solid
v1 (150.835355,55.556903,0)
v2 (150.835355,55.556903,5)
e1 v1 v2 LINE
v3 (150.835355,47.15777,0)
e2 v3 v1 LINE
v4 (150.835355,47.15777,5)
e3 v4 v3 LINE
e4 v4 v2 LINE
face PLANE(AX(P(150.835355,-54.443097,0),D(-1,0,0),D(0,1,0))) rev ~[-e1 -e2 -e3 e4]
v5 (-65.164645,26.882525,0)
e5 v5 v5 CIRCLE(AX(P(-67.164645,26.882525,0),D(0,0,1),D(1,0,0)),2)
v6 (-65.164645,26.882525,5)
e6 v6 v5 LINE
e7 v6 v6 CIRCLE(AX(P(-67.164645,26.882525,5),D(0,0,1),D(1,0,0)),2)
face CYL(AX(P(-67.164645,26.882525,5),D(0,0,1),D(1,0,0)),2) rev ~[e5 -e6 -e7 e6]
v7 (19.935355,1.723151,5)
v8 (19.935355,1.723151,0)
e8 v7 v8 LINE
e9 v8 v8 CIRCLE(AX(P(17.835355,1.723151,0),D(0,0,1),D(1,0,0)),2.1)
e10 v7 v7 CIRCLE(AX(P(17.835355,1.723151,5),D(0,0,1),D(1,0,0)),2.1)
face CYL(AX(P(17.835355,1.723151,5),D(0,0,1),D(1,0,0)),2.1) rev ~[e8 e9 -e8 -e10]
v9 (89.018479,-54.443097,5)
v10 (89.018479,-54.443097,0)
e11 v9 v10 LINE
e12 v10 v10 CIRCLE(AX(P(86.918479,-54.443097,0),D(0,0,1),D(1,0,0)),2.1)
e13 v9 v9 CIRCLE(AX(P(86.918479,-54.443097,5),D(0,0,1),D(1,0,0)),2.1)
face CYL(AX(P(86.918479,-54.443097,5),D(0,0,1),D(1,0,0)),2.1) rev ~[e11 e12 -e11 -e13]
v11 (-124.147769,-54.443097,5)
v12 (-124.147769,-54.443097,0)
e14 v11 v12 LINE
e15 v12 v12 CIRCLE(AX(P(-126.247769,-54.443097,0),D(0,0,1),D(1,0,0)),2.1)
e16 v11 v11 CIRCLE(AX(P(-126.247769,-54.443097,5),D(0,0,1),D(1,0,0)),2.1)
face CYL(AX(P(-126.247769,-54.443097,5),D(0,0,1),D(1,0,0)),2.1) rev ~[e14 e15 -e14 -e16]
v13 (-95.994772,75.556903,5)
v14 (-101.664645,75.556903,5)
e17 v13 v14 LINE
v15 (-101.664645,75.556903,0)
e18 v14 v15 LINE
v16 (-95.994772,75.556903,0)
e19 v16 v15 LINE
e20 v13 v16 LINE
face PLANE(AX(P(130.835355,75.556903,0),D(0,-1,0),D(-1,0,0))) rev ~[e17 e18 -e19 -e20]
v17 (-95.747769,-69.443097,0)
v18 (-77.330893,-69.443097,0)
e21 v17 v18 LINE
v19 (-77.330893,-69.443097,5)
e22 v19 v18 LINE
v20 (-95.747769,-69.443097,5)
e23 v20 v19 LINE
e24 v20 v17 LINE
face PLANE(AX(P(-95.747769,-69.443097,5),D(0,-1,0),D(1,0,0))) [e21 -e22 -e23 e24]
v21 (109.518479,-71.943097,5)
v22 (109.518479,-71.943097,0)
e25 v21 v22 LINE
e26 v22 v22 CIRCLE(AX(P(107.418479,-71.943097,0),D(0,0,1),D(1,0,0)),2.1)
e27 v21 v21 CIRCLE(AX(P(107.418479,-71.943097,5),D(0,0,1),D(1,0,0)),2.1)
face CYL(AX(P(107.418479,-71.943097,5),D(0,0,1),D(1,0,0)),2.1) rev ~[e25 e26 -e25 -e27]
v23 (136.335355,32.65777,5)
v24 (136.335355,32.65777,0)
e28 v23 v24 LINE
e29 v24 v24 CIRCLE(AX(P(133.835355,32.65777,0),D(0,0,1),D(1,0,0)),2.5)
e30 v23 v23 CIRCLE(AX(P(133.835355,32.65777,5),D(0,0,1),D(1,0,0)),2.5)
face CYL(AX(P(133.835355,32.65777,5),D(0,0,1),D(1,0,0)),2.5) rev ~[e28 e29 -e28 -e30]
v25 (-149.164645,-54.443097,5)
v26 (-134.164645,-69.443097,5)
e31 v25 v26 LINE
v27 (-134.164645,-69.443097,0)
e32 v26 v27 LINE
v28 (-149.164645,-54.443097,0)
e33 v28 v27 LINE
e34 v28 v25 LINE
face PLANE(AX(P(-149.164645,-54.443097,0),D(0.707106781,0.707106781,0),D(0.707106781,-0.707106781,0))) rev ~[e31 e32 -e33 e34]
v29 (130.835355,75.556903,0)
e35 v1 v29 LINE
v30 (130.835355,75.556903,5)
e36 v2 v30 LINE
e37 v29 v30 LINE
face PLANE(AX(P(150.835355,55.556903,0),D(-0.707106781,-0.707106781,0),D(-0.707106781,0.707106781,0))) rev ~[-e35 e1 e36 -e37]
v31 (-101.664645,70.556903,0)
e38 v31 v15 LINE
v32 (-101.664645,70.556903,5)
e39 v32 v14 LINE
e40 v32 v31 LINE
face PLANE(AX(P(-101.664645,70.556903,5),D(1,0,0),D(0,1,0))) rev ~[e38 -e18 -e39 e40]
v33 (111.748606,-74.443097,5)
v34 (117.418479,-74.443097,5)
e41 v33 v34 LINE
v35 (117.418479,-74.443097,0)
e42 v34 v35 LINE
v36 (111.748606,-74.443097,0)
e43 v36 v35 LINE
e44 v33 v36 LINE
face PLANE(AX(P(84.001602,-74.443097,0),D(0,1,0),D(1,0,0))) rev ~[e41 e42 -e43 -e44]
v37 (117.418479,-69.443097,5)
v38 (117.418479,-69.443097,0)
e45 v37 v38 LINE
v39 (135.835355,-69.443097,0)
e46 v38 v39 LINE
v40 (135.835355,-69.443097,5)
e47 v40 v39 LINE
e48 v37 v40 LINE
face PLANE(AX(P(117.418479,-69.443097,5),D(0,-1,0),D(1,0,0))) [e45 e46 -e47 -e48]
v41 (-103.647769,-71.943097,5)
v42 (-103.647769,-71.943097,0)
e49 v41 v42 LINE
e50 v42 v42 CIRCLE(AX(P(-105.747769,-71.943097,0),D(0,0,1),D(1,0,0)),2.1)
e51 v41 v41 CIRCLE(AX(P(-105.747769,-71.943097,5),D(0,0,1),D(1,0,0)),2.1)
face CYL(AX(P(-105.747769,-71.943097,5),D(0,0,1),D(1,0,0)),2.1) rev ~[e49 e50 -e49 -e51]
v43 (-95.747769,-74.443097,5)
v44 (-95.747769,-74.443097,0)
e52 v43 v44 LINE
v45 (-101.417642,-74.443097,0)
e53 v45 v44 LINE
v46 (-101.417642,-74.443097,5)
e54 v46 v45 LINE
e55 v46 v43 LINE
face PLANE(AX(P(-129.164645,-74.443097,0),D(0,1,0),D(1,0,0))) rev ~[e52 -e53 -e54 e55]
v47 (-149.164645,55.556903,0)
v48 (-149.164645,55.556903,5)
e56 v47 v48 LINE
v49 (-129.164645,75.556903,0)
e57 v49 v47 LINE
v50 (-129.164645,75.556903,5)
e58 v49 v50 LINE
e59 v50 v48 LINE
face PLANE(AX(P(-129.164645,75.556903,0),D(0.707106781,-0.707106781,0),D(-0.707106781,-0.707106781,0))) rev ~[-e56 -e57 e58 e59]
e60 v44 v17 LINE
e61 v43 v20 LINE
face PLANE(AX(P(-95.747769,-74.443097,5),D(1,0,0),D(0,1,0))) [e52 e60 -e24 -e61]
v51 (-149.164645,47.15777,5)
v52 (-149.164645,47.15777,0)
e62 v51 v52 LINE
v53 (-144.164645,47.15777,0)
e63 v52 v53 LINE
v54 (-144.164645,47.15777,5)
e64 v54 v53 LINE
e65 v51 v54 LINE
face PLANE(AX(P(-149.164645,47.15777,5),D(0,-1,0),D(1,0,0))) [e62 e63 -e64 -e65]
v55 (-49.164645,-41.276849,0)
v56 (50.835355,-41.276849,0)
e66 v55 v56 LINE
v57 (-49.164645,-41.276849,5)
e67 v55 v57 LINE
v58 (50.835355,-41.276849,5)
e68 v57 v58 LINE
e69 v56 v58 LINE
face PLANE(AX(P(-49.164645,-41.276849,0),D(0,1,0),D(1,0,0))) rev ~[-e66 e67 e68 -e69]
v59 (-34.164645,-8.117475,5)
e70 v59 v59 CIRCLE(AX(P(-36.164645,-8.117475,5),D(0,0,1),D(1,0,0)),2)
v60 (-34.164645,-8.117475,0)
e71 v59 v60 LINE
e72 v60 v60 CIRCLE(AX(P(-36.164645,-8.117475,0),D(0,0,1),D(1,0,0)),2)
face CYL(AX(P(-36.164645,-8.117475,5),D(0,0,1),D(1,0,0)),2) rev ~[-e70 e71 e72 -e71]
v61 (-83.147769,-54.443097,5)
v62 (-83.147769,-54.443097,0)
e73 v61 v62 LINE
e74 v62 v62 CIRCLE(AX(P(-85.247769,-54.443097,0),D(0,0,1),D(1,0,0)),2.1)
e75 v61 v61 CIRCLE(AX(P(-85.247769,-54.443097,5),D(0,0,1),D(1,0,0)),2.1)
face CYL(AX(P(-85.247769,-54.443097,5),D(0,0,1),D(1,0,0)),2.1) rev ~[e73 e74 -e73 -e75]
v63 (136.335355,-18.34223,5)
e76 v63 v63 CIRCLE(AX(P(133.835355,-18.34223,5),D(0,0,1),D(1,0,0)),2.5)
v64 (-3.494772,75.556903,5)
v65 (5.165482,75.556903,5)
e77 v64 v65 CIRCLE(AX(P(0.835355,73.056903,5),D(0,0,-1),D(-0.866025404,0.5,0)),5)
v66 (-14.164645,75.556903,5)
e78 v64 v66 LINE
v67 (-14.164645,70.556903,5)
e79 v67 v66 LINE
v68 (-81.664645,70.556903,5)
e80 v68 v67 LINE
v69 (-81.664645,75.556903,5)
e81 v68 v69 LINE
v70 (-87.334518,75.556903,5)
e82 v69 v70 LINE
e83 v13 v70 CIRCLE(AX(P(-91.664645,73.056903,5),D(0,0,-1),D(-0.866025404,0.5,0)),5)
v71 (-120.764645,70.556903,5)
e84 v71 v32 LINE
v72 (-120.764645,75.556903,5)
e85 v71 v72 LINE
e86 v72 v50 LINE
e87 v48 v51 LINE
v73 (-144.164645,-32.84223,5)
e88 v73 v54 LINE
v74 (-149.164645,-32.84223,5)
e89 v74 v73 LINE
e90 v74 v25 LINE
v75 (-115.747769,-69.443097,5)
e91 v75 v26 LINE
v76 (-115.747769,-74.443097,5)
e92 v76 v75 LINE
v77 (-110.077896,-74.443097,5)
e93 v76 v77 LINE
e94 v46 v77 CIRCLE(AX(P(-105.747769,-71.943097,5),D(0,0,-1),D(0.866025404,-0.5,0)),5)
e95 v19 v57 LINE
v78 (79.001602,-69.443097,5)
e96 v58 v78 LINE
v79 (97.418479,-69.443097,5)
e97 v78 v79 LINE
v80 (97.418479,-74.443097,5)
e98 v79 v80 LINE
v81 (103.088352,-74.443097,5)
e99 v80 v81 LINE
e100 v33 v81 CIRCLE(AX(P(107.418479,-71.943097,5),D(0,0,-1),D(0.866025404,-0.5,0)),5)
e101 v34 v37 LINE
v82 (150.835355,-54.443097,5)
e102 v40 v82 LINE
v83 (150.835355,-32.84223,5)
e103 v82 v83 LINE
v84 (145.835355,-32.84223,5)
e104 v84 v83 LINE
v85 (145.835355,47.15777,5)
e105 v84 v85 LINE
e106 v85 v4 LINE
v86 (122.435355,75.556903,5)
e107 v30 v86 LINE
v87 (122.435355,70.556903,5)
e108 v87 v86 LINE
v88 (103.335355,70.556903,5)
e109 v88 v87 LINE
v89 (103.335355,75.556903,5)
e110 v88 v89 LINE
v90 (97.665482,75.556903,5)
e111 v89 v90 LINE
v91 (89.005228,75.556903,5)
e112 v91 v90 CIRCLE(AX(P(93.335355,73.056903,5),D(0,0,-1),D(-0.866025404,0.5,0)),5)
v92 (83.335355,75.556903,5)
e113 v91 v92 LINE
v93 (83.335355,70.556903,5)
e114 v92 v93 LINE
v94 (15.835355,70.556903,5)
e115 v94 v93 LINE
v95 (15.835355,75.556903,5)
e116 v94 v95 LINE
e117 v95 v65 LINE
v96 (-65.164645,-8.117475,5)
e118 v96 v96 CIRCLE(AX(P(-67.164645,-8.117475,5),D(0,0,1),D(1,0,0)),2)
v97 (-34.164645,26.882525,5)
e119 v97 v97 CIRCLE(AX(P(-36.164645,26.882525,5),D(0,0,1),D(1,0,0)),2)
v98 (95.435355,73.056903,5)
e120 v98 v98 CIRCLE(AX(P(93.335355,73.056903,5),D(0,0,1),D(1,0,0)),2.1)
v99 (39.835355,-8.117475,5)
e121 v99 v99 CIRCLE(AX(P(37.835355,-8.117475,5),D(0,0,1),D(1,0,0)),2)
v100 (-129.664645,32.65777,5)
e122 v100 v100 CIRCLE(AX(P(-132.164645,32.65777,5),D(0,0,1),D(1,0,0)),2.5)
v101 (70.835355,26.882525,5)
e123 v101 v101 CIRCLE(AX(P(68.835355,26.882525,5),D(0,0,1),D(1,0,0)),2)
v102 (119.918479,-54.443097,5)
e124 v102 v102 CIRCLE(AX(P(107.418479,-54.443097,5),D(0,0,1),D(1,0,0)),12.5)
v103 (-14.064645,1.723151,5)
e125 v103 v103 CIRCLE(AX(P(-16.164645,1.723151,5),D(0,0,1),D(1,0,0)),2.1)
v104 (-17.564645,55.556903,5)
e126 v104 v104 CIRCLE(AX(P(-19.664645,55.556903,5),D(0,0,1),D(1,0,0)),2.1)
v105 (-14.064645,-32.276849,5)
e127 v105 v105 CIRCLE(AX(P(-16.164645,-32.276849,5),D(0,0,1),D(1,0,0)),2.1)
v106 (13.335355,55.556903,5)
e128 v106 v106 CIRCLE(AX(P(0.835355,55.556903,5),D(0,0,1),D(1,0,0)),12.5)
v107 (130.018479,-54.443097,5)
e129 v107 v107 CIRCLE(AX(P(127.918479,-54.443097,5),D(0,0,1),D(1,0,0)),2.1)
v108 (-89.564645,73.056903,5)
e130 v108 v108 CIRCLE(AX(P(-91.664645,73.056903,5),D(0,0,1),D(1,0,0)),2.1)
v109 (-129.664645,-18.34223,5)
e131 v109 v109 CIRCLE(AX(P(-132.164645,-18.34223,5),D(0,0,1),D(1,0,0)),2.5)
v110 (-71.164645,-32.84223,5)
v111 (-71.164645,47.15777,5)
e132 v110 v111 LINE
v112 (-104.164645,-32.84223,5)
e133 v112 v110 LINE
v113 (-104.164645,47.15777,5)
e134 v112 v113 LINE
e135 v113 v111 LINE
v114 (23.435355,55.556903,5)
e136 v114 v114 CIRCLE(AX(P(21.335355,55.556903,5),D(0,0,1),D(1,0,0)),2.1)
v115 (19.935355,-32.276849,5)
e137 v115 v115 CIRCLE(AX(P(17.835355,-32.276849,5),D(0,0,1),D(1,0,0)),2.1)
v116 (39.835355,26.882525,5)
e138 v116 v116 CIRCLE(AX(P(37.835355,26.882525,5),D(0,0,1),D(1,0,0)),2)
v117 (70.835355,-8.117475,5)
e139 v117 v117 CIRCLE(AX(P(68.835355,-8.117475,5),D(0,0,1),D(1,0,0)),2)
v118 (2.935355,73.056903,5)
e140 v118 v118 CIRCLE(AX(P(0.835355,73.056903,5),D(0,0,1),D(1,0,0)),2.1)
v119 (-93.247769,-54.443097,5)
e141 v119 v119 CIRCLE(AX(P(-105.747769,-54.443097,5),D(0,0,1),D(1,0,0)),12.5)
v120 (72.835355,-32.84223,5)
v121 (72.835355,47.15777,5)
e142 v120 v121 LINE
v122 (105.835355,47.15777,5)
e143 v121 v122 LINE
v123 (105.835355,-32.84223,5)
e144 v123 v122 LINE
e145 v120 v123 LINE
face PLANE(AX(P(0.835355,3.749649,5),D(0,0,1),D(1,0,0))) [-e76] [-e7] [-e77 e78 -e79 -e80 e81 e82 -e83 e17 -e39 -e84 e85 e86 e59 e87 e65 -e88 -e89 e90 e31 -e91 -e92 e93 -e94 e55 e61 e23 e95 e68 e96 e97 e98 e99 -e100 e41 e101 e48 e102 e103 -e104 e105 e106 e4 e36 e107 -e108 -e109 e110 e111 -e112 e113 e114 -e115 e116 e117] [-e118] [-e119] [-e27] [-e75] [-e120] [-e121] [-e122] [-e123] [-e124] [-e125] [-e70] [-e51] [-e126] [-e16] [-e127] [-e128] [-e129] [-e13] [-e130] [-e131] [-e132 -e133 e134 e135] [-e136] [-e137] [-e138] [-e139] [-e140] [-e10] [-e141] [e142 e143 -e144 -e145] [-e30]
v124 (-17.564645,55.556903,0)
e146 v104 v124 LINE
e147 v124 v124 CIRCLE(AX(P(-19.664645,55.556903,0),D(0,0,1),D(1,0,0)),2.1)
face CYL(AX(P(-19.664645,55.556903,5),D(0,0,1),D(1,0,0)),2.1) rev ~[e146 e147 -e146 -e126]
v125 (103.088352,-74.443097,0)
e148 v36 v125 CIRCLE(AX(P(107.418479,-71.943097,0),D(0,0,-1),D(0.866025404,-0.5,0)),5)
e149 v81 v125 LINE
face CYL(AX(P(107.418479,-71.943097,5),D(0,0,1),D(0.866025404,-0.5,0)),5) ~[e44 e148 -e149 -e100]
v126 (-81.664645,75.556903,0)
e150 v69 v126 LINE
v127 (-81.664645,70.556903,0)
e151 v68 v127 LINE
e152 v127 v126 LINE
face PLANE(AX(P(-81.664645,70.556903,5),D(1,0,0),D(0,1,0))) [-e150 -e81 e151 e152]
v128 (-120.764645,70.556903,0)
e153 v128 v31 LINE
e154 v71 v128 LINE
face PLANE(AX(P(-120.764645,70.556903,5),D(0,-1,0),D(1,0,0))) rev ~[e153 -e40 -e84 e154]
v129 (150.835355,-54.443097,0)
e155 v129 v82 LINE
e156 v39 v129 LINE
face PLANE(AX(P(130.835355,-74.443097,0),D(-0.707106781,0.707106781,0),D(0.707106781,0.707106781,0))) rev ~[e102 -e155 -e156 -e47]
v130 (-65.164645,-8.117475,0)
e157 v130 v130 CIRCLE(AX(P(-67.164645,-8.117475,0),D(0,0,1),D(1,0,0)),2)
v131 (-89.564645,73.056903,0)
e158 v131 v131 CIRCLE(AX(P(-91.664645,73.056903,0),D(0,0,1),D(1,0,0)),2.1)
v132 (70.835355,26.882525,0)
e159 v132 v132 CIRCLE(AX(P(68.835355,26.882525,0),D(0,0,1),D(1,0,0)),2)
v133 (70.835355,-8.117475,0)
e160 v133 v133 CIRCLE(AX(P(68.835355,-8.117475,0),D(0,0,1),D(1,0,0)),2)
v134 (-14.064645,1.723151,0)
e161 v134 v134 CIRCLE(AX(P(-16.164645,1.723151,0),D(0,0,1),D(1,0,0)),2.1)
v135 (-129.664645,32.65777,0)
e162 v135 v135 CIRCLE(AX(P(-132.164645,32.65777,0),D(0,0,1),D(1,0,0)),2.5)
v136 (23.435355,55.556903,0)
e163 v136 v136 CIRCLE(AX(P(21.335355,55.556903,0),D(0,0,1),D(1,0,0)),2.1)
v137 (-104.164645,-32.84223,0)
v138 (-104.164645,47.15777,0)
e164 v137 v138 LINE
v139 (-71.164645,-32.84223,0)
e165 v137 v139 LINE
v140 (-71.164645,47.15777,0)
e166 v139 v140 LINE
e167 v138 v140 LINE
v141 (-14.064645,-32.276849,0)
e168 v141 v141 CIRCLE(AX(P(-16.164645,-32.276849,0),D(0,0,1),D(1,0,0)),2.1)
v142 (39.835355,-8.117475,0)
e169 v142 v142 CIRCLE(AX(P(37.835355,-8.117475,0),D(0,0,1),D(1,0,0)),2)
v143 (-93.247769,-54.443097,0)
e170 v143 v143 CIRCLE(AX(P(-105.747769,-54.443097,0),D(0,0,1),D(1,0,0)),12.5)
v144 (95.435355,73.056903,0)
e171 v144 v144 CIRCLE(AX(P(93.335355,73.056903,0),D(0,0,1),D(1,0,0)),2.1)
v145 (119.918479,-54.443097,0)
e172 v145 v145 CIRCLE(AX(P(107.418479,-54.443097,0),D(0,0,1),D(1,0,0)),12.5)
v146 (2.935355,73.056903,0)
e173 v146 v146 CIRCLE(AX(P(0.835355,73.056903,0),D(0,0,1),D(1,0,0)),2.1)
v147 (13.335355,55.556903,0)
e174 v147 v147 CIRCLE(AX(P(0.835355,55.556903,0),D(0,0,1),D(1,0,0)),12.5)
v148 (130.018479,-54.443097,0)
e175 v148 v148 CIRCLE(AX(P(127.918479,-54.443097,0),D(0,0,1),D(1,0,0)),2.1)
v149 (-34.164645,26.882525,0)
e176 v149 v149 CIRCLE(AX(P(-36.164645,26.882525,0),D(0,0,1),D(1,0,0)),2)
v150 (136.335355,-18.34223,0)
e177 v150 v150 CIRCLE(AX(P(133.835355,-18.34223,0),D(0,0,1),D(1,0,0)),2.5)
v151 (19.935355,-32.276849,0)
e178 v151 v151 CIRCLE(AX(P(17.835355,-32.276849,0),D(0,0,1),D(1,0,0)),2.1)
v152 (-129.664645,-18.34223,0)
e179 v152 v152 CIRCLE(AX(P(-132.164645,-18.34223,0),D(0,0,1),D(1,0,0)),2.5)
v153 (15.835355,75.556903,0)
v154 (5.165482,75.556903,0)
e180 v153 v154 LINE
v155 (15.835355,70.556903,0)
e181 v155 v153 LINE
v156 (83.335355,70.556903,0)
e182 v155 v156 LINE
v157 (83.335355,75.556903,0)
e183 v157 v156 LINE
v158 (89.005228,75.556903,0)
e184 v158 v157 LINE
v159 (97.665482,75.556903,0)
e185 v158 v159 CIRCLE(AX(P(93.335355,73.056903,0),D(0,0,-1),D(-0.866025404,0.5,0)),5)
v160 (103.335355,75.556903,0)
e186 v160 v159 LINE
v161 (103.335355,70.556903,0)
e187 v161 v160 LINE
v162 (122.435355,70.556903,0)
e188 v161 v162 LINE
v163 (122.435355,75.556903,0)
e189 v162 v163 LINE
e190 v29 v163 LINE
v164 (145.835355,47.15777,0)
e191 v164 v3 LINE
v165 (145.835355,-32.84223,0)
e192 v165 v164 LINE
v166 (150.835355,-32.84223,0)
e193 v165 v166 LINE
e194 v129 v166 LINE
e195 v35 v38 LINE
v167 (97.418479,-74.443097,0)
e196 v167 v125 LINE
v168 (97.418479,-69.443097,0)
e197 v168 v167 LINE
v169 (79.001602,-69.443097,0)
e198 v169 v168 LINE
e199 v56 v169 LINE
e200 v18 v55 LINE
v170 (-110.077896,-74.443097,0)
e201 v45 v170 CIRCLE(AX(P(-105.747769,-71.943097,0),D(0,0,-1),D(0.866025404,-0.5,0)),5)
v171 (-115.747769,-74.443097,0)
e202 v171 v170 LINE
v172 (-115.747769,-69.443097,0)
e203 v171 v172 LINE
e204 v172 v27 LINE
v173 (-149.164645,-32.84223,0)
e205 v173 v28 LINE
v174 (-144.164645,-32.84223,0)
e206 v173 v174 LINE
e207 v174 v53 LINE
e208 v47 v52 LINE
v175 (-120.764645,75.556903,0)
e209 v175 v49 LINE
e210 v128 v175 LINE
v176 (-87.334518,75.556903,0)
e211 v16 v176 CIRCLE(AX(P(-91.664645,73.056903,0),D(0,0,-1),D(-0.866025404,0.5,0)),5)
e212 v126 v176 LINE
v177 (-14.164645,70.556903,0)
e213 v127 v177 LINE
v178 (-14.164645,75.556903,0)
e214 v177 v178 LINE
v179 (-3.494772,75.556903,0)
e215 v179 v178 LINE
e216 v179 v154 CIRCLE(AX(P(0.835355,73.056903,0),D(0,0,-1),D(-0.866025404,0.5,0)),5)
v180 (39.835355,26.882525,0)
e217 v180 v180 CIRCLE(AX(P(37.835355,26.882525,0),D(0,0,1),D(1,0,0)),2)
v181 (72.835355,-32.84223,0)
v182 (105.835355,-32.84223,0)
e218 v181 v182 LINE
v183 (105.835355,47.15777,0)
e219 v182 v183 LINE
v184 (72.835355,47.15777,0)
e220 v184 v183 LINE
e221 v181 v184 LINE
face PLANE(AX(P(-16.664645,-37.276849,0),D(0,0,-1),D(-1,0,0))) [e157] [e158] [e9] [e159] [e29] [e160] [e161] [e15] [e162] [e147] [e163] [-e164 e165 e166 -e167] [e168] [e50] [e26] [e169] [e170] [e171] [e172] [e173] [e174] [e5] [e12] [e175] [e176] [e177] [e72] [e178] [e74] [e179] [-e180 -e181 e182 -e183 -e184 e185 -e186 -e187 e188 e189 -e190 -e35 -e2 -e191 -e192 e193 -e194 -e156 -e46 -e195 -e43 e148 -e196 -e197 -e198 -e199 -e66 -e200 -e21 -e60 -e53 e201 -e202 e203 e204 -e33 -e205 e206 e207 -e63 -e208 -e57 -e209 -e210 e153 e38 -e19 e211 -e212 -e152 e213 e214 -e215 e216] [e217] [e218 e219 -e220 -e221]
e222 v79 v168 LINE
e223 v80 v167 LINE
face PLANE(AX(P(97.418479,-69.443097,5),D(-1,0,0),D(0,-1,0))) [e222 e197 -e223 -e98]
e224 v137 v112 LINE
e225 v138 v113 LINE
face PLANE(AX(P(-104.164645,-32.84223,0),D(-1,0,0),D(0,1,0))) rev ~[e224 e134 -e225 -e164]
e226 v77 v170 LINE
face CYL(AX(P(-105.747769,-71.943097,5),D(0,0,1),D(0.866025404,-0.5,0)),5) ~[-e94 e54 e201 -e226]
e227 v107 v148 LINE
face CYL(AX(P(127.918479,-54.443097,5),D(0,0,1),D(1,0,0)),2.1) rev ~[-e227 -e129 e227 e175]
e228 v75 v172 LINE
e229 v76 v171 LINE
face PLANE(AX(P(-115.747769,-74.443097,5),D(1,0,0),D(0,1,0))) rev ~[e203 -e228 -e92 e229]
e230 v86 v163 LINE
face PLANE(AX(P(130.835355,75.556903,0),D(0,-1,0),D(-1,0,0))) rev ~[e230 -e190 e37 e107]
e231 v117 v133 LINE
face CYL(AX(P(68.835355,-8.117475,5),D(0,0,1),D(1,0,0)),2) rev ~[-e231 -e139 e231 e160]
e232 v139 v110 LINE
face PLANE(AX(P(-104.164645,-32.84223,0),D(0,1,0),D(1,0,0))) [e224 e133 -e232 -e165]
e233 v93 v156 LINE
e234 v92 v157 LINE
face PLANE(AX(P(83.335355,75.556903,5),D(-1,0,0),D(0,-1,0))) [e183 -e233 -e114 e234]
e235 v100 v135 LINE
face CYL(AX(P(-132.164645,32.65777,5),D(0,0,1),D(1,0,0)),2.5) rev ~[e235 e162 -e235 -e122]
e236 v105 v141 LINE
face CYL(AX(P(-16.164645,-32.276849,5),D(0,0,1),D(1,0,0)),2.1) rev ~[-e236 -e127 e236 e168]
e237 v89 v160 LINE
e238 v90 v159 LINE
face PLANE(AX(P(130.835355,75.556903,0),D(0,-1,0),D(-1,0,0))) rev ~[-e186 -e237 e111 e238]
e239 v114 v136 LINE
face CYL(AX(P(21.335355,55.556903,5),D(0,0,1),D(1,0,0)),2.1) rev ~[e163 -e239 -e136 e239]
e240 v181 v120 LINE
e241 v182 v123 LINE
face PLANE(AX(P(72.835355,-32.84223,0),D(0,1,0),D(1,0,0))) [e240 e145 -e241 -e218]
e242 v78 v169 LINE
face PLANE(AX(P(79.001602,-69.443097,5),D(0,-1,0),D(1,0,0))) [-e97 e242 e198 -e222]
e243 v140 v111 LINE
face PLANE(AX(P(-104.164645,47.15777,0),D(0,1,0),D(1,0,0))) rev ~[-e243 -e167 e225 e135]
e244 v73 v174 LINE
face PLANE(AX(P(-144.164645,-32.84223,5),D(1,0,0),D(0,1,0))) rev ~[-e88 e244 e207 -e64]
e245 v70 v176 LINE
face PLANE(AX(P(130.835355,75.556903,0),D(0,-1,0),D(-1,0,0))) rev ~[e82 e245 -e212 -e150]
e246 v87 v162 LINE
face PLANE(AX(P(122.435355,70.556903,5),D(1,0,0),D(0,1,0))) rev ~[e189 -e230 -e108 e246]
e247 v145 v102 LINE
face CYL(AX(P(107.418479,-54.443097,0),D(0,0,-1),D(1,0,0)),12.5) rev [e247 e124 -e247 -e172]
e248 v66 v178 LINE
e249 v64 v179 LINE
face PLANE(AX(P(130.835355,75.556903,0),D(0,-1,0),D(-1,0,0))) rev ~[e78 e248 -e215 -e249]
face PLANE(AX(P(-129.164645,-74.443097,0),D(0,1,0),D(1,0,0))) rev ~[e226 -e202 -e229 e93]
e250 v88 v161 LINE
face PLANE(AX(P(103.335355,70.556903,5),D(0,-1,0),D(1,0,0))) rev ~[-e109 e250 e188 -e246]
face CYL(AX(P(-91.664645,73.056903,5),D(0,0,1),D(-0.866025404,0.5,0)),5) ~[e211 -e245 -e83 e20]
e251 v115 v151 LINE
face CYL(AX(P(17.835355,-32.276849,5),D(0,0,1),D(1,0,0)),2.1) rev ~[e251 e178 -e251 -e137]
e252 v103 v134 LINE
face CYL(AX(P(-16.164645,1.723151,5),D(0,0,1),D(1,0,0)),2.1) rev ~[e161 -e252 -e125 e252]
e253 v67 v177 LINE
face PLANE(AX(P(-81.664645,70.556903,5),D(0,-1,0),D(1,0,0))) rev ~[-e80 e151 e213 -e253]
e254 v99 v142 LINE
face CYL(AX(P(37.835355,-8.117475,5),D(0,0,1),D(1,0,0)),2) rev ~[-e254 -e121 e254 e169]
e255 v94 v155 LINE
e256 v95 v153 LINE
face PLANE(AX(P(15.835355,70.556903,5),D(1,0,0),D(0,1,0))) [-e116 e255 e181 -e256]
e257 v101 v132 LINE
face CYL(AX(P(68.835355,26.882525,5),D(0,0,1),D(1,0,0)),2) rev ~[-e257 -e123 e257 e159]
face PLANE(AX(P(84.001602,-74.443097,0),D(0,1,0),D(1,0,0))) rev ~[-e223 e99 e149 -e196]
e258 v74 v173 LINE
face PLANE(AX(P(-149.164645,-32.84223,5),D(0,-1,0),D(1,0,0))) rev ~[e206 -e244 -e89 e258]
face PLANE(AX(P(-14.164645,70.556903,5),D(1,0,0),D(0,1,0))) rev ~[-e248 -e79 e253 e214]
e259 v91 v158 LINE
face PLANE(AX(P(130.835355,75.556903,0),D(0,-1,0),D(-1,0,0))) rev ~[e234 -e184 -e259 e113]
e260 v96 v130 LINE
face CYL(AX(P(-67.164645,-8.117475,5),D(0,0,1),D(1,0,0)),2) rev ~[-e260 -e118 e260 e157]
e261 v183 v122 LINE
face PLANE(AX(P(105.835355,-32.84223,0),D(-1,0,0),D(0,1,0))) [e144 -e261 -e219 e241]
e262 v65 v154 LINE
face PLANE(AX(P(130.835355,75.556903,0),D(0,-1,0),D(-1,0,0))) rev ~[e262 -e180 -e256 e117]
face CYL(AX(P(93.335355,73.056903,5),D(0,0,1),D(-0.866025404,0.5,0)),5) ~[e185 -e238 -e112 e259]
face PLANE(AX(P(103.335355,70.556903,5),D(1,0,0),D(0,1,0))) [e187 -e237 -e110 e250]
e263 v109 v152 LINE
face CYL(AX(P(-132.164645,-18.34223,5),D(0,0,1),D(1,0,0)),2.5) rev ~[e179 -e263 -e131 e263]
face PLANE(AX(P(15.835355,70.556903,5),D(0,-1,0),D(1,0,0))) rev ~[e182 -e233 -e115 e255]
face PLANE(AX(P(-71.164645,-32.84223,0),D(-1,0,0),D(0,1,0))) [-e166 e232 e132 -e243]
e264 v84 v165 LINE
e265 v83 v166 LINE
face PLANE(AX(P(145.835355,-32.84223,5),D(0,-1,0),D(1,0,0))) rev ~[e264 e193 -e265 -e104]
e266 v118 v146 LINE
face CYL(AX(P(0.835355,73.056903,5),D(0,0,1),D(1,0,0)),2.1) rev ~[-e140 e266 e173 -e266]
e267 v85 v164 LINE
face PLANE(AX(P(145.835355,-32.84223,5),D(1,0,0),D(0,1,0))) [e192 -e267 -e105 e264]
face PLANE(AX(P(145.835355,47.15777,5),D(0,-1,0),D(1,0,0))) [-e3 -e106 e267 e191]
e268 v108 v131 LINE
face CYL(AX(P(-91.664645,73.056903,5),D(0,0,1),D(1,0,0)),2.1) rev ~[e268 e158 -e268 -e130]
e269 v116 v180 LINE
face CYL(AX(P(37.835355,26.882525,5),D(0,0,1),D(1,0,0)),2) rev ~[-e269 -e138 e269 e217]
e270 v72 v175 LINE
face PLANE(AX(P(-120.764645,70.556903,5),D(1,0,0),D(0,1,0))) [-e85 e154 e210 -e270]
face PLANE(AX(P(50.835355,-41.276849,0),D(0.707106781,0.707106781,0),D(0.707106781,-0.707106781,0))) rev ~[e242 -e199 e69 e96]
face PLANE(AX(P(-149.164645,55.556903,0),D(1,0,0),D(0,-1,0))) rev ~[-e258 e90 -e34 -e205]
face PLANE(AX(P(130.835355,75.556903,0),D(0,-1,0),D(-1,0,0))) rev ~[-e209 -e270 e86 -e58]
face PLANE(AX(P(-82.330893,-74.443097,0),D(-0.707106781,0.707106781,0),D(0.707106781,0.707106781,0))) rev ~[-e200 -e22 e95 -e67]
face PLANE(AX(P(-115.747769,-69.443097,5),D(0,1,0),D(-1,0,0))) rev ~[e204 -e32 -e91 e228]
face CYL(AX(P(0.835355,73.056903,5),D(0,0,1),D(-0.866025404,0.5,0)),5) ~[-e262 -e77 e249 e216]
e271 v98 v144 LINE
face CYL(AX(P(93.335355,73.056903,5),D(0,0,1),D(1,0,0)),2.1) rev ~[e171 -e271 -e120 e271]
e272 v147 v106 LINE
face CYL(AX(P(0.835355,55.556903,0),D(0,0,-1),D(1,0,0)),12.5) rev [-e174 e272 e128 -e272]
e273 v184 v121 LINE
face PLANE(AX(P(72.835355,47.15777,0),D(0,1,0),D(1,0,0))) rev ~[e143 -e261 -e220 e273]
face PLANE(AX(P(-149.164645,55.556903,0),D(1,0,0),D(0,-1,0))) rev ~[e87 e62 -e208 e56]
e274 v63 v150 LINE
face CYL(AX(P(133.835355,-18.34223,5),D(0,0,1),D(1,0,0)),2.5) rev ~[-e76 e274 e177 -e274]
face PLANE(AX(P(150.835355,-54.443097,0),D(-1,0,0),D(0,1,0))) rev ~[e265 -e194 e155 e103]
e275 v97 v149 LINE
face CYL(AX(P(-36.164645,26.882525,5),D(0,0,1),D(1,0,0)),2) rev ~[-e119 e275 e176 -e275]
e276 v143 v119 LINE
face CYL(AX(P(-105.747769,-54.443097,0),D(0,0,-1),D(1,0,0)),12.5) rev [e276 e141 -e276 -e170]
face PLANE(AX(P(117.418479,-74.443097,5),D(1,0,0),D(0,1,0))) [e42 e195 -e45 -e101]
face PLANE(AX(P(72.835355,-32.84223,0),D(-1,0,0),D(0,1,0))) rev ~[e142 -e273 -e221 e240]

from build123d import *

# Parameters (mm, degrees)
SKETCH1_R           = 12.5
SKETCH1_W           = 33
SKETCH1_H           = 80
BOSS_EXTRUDE1_DEPTH = 5
SKETCH2_R           = 1.6
CUT_EXTRUDE1_DEPTH  = 6
SKETCH4_W           = 5
SKETCH4_H           = 80
CUT_EXTRUDE3_DEPTH  = 6
SKETCH5_R           = 2
CUT_EXTRUDE4_DEPTH  = 6
SKETCH6_R           = 2.5
CUT_EXTRUDE5_DEPTH  = 6
CUT_EXTRUDE7_DEPTH  = 6
SKETCH10_W          = 19.1
SKETCH10_H          = 5
SKETCH10_W_2        = 48.4
CUT_EXTRUDE9_DEPTH  = 6
BOSS_EXTRUDE3_DEPTH = 5
SKETCH12_R          = 2.1
CUT_EXTRUDE10_DEPTH = 5
SKETCH13_R          = 2.1
CUT_EXTRUDE11_DEPTH = 5
SKETCH15_R          = 1.6
BOSS_EXTRUDE4_DEPTH = 5
SKETCH17_R          = 2.1
CUT_EXTRUDE13_DEPTH = 6


with BuildPart() as part:
    # Sketch1 → Boss-Extrude1 (new body)
    with BuildSketch(Plane.XY):
        Polygon((84.001602477, -74.443096951), (130.835354573, -74.443096951), (150.835354573, -54.443096951), (150.835354573, 55.556903049), (130.835354573, 75.556903049), (-129.164645427, 75.556903049), (-149.164645427, 55.556903049), (-149.164645427, -54.443096951), (-129.164645427, -74.443096951), (-82.33089333, -74.443096951), (-49.164645427, -41.276849047), (50.835354573, -41.276849047), align=None)
        with Locations((107.418478525, -54.443096951)):
            Circle(SKETCH1_R, mode=Mode.SUBTRACT)
        with Locations((-105.747769378, -54.443096951)):
            Circle(SKETCH1_R, mode=Mode.SUBTRACT)
        with Locations((0.835354573, 55.556903049)):
            Circle(SKETCH1_R, mode=Mode.SUBTRACT)
        with Locations((89.335354573, 7.157769786)):
            Rectangle(SKETCH1_W, SKETCH1_H, mode=Mode.SUBTRACT)
        with Locations((-87.664645427, 7.157769786)):
            Rectangle(SKETCH1_W, SKETCH1_H, mode=Mode.SUBTRACT)
    extrude(amount=BOSS_EXTRUDE1_DEPTH)

    # Sketch2 → Cut-Extrude1 (cut, through all)
    with BuildSketch(Plane.XY.offset(5)):
        with Locations((17.335354573, -3.276849047)):
            Circle(SKETCH2_R)
        with Locations((17.335354573, -37.276849047)):
            Circle(SKETCH2_R)
        with Locations((-16.664645427, -37.276849047)):
            Circle(SKETCH2_R)
        with Locations((-16.664645427, -3.276849047)):
            Circle(SKETCH2_R)
    extrude(amount=-CUT_EXTRUDE1_DEPTH, mode=Mode.SUBTRACT)

    # Sketch4 → Cut-Extrude3 (cut, through all)
    with BuildSketch(Plane.XY.offset(5)):
        with Locations((148.335354573, 7.157769786)):
            Rectangle(SKETCH4_W, SKETCH4_H)
        with Locations((-146.664645427, 7.157769786)):
            Rectangle(SKETCH4_W, SKETCH4_H)
    extrude(amount=-CUT_EXTRUDE3_DEPTH, mode=Mode.SUBTRACT)

    # Sketch5 → Cut-Extrude4 (cut, through all)
    with BuildSketch(Plane.XY.offset(5)):
        with Locations((-67.164645427, -8.117475471)):
            Circle(SKETCH5_R)
        with Locations((-36.164645427, -8.117475471)):
            Circle(SKETCH5_R)
        with Locations((-36.164645427, 26.882524529)):
            Circle(SKETCH5_R)
        with Locations((-67.164645427, 26.882524529)):
            Circle(SKETCH5_R)
        with Locations((68.835354573, 26.882524529)):
            Circle(SKETCH5_R)
        with Locations((37.835354573, 26.882524529)):
            Circle(SKETCH5_R)
        with Locations((37.835354573, -8.117475471)):
            Circle(SKETCH5_R)
        with Locations((68.835354573, -8.117475471)):
            Circle(SKETCH5_R)
    extrude(amount=-CUT_EXTRUDE4_DEPTH, mode=Mode.SUBTRACT)

    # Sketch6 → Cut-Extrude5 (cut, through all)
    with BuildSketch(Plane.XY.offset(5)):
        with Locations((133.835354573, -18.342230214)):
            Circle(SKETCH6_R)
        with Locations((133.835354573, 32.657769786)):
            Circle(SKETCH6_R)
        with Locations((-132.164645427, 32.657769786)):
            Circle(SKETCH6_R)
        with Locations((-132.164645427, -18.342230214)):
            Circle(SKETCH6_R)
    extrude(amount=-CUT_EXTRUDE5_DEPTH, mode=Mode.SUBTRACT)

    # Sketch7 → Cut-Extrude7 (cut, through all)
    with BuildSketch(Plane.XY.offset(5)):
        Polygon((-115.747769378, -69.443096951), (-134.164645427, -69.443096951), (-129.164645427, -74.443096951), (-115.747769378, -74.443096951), align=None)
        Polygon((-95.747769378, -74.443096951), (-95.747769378, -69.443096951), (-77.33089333, -69.443096951), (-82.33089333, -74.443096951), align=None)
        Polygon((97.418478525, -74.443096951), (84.001602477, -74.443096951), (79.001602477, -69.443096951), (97.418478525, -69.443096951), align=None)
        Polygon((130.835354573, -74.443096951), (117.418478525, -74.443096951), (117.418478525, -69.443096951), (135.835354573, -69.443096951), align=None)
    extrude(amount=-CUT_EXTRUDE7_DEPTH, mode=Mode.SUBTRACT)

    # Sketch10 → Cut-Extrude9 (cut, through all)
    with BuildSketch(Plane.XY.offset(5)):
        with Locations((-111.214645427, 73.056903049)):
            Rectangle(SKETCH10_W, SKETCH10_H)
        with Locations((-72.114645427, 73.056903049)):
            Rectangle(SKETCH10_W, SKETCH10_H)
        with Locations((-38.364645427, 73.056903049)):
            Rectangle(SKETCH10_W_2, SKETCH10_H)
        Polygon((83.335354573, 75.556903049), (83.335354573, 70.556903049), (64.235354573, 70.556903049), (15.835354573, 70.556903049), (15.835354573, 75.556903049), (64.235354573, 75.556903049), align=None)
        with Locations((112.885354573, 73.056903049)):
            Rectangle(SKETCH10_W, SKETCH10_H)
    extrude(amount=-CUT_EXTRUDE9_DEPTH, mode=Mode.SUBTRACT)

    # Sketch11 → Boss-Extrude3 (add)
    with BuildSketch(Plane.XY.offset(5)):
        with BuildLine():
            Line((103.088351506, -74.443096951), (111.748605544, -74.443096951))
            ThreePointArc((111.748605544, -74.443096951), (107.418478525, -76.943096951), (103.088351506, -74.443096951))
        make_face()
        with BuildLine():
            Line((-110.077896397, -74.443096951), (-101.417642359, -74.443096951))
            ThreePointArc((-101.417642359, -74.443096951), (-105.747769378, -76.943096951), (-110.077896397, -74.443096951))
        make_face()
        with BuildLine():
            Line((97.665481592, 75.556903049), (89.005227555, 75.556903049))
            ThreePointArc((89.005227555, 75.556903049), (93.335354573, 78.056903049), (97.665481592, 75.556903049))
        make_face()
        with BuildLine():
            Line((5.165481592, 75.556903049), (-3.494772445, 75.556903049))
            ThreePointArc((-3.494772445, 75.556903049), (0.835354573, 78.056903049), (5.165481592, 75.556903049))
        make_face()
        with BuildLine():
            Line((-87.334518408, 75.556903049), (-95.994772445, 75.556903049))
            ThreePointArc((-95.994772445, 75.556903049), (-91.664645427, 78.056903049), (-87.334518408, 75.556903049))
        make_face()
    extrude(amount=-BOSS_EXTRUDE3_DEPTH)

    # Sketch12 → Cut-Extrude10 (cut)
    with BuildSketch(Plane.XY.offset(5)):
        with Locations((107.418478525, -71.943096951)):
            Circle(SKETCH12_R)
        with Locations((-105.747769378, -71.943096951)):
            Circle(SKETCH12_R)
        with Locations((93.335354573, 73.056903049)):
            Circle(SKETCH12_R)
        with Locations((0.835354573, 73.056903049)):
            Circle(SKETCH12_R)
        with Locations((-91.664645427, 73.056903049)):
            Circle(SKETCH12_R)
    extrude(amount=-CUT_EXTRUDE10_DEPTH, mode=Mode.SUBTRACT)

    # Sketch13 → Cut-Extrude11 (cut)
    with BuildSketch(Plane.XY.offset(5)):
        with Locations((-19.664645427, 55.556903049)):
            Circle(SKETCH13_R)
        with Locations((21.335354573, 55.556903049)):
            Circle(SKETCH13_R)
        with Locations((-126.247769378, -54.443096951)):
            Circle(SKETCH13_R)
        with Locations((-85.247769378, -54.443096951)):
            Circle(SKETCH13_R)
        with Locations((86.918478525, -54.443096951)):
            Circle(SKETCH13_R)
        with Locations((127.918478525, -54.443096951)):
            Circle(SKETCH13_R)
    extrude(amount=-CUT_EXTRUDE11_DEPTH, mode=Mode.SUBTRACT)

    # Sketch15 → Boss-Extrude4 (add)
    with BuildSketch(Plane(origin=(0, 0, 0), x_dir=(-1, 0, 0), z_dir=(0, 0, -1))):
        with Locations((16.664645427, -37.276849047)):
            Circle(SKETCH15_R)
        with Locations((16.664645427, -3.276849047)):
            Circle(SKETCH15_R)
        with Locations((-17.335354573, -37.276849047)):
            Circle(SKETCH15_R)
        with Locations((-17.335354573, -3.276849047)):
            Circle(SKETCH15_R)
    extrude(amount=-BOSS_EXTRUDE4_DEPTH)

    # Sketch17 → Cut-Extrude13 (cut, through all)
    with BuildSketch(Plane.XY.offset(5)):
        with Locations((-16.164645427, 1.723150953)):
            Circle(SKETCH17_R)
        with Locations((17.835354573, 1.723150953)):
            Circle(SKETCH17_R)
        with Locations((17.835354573, -32.276849047)):
            Circle(SKETCH17_R)
        with Locations((-16.164645427, -32.276849047)):
            Circle(SKETCH17_R)
    extrude(amount=-CUT_EXTRUDE13_DEPTH, mode=Mode.SUBTRACT)


solid = part.part
